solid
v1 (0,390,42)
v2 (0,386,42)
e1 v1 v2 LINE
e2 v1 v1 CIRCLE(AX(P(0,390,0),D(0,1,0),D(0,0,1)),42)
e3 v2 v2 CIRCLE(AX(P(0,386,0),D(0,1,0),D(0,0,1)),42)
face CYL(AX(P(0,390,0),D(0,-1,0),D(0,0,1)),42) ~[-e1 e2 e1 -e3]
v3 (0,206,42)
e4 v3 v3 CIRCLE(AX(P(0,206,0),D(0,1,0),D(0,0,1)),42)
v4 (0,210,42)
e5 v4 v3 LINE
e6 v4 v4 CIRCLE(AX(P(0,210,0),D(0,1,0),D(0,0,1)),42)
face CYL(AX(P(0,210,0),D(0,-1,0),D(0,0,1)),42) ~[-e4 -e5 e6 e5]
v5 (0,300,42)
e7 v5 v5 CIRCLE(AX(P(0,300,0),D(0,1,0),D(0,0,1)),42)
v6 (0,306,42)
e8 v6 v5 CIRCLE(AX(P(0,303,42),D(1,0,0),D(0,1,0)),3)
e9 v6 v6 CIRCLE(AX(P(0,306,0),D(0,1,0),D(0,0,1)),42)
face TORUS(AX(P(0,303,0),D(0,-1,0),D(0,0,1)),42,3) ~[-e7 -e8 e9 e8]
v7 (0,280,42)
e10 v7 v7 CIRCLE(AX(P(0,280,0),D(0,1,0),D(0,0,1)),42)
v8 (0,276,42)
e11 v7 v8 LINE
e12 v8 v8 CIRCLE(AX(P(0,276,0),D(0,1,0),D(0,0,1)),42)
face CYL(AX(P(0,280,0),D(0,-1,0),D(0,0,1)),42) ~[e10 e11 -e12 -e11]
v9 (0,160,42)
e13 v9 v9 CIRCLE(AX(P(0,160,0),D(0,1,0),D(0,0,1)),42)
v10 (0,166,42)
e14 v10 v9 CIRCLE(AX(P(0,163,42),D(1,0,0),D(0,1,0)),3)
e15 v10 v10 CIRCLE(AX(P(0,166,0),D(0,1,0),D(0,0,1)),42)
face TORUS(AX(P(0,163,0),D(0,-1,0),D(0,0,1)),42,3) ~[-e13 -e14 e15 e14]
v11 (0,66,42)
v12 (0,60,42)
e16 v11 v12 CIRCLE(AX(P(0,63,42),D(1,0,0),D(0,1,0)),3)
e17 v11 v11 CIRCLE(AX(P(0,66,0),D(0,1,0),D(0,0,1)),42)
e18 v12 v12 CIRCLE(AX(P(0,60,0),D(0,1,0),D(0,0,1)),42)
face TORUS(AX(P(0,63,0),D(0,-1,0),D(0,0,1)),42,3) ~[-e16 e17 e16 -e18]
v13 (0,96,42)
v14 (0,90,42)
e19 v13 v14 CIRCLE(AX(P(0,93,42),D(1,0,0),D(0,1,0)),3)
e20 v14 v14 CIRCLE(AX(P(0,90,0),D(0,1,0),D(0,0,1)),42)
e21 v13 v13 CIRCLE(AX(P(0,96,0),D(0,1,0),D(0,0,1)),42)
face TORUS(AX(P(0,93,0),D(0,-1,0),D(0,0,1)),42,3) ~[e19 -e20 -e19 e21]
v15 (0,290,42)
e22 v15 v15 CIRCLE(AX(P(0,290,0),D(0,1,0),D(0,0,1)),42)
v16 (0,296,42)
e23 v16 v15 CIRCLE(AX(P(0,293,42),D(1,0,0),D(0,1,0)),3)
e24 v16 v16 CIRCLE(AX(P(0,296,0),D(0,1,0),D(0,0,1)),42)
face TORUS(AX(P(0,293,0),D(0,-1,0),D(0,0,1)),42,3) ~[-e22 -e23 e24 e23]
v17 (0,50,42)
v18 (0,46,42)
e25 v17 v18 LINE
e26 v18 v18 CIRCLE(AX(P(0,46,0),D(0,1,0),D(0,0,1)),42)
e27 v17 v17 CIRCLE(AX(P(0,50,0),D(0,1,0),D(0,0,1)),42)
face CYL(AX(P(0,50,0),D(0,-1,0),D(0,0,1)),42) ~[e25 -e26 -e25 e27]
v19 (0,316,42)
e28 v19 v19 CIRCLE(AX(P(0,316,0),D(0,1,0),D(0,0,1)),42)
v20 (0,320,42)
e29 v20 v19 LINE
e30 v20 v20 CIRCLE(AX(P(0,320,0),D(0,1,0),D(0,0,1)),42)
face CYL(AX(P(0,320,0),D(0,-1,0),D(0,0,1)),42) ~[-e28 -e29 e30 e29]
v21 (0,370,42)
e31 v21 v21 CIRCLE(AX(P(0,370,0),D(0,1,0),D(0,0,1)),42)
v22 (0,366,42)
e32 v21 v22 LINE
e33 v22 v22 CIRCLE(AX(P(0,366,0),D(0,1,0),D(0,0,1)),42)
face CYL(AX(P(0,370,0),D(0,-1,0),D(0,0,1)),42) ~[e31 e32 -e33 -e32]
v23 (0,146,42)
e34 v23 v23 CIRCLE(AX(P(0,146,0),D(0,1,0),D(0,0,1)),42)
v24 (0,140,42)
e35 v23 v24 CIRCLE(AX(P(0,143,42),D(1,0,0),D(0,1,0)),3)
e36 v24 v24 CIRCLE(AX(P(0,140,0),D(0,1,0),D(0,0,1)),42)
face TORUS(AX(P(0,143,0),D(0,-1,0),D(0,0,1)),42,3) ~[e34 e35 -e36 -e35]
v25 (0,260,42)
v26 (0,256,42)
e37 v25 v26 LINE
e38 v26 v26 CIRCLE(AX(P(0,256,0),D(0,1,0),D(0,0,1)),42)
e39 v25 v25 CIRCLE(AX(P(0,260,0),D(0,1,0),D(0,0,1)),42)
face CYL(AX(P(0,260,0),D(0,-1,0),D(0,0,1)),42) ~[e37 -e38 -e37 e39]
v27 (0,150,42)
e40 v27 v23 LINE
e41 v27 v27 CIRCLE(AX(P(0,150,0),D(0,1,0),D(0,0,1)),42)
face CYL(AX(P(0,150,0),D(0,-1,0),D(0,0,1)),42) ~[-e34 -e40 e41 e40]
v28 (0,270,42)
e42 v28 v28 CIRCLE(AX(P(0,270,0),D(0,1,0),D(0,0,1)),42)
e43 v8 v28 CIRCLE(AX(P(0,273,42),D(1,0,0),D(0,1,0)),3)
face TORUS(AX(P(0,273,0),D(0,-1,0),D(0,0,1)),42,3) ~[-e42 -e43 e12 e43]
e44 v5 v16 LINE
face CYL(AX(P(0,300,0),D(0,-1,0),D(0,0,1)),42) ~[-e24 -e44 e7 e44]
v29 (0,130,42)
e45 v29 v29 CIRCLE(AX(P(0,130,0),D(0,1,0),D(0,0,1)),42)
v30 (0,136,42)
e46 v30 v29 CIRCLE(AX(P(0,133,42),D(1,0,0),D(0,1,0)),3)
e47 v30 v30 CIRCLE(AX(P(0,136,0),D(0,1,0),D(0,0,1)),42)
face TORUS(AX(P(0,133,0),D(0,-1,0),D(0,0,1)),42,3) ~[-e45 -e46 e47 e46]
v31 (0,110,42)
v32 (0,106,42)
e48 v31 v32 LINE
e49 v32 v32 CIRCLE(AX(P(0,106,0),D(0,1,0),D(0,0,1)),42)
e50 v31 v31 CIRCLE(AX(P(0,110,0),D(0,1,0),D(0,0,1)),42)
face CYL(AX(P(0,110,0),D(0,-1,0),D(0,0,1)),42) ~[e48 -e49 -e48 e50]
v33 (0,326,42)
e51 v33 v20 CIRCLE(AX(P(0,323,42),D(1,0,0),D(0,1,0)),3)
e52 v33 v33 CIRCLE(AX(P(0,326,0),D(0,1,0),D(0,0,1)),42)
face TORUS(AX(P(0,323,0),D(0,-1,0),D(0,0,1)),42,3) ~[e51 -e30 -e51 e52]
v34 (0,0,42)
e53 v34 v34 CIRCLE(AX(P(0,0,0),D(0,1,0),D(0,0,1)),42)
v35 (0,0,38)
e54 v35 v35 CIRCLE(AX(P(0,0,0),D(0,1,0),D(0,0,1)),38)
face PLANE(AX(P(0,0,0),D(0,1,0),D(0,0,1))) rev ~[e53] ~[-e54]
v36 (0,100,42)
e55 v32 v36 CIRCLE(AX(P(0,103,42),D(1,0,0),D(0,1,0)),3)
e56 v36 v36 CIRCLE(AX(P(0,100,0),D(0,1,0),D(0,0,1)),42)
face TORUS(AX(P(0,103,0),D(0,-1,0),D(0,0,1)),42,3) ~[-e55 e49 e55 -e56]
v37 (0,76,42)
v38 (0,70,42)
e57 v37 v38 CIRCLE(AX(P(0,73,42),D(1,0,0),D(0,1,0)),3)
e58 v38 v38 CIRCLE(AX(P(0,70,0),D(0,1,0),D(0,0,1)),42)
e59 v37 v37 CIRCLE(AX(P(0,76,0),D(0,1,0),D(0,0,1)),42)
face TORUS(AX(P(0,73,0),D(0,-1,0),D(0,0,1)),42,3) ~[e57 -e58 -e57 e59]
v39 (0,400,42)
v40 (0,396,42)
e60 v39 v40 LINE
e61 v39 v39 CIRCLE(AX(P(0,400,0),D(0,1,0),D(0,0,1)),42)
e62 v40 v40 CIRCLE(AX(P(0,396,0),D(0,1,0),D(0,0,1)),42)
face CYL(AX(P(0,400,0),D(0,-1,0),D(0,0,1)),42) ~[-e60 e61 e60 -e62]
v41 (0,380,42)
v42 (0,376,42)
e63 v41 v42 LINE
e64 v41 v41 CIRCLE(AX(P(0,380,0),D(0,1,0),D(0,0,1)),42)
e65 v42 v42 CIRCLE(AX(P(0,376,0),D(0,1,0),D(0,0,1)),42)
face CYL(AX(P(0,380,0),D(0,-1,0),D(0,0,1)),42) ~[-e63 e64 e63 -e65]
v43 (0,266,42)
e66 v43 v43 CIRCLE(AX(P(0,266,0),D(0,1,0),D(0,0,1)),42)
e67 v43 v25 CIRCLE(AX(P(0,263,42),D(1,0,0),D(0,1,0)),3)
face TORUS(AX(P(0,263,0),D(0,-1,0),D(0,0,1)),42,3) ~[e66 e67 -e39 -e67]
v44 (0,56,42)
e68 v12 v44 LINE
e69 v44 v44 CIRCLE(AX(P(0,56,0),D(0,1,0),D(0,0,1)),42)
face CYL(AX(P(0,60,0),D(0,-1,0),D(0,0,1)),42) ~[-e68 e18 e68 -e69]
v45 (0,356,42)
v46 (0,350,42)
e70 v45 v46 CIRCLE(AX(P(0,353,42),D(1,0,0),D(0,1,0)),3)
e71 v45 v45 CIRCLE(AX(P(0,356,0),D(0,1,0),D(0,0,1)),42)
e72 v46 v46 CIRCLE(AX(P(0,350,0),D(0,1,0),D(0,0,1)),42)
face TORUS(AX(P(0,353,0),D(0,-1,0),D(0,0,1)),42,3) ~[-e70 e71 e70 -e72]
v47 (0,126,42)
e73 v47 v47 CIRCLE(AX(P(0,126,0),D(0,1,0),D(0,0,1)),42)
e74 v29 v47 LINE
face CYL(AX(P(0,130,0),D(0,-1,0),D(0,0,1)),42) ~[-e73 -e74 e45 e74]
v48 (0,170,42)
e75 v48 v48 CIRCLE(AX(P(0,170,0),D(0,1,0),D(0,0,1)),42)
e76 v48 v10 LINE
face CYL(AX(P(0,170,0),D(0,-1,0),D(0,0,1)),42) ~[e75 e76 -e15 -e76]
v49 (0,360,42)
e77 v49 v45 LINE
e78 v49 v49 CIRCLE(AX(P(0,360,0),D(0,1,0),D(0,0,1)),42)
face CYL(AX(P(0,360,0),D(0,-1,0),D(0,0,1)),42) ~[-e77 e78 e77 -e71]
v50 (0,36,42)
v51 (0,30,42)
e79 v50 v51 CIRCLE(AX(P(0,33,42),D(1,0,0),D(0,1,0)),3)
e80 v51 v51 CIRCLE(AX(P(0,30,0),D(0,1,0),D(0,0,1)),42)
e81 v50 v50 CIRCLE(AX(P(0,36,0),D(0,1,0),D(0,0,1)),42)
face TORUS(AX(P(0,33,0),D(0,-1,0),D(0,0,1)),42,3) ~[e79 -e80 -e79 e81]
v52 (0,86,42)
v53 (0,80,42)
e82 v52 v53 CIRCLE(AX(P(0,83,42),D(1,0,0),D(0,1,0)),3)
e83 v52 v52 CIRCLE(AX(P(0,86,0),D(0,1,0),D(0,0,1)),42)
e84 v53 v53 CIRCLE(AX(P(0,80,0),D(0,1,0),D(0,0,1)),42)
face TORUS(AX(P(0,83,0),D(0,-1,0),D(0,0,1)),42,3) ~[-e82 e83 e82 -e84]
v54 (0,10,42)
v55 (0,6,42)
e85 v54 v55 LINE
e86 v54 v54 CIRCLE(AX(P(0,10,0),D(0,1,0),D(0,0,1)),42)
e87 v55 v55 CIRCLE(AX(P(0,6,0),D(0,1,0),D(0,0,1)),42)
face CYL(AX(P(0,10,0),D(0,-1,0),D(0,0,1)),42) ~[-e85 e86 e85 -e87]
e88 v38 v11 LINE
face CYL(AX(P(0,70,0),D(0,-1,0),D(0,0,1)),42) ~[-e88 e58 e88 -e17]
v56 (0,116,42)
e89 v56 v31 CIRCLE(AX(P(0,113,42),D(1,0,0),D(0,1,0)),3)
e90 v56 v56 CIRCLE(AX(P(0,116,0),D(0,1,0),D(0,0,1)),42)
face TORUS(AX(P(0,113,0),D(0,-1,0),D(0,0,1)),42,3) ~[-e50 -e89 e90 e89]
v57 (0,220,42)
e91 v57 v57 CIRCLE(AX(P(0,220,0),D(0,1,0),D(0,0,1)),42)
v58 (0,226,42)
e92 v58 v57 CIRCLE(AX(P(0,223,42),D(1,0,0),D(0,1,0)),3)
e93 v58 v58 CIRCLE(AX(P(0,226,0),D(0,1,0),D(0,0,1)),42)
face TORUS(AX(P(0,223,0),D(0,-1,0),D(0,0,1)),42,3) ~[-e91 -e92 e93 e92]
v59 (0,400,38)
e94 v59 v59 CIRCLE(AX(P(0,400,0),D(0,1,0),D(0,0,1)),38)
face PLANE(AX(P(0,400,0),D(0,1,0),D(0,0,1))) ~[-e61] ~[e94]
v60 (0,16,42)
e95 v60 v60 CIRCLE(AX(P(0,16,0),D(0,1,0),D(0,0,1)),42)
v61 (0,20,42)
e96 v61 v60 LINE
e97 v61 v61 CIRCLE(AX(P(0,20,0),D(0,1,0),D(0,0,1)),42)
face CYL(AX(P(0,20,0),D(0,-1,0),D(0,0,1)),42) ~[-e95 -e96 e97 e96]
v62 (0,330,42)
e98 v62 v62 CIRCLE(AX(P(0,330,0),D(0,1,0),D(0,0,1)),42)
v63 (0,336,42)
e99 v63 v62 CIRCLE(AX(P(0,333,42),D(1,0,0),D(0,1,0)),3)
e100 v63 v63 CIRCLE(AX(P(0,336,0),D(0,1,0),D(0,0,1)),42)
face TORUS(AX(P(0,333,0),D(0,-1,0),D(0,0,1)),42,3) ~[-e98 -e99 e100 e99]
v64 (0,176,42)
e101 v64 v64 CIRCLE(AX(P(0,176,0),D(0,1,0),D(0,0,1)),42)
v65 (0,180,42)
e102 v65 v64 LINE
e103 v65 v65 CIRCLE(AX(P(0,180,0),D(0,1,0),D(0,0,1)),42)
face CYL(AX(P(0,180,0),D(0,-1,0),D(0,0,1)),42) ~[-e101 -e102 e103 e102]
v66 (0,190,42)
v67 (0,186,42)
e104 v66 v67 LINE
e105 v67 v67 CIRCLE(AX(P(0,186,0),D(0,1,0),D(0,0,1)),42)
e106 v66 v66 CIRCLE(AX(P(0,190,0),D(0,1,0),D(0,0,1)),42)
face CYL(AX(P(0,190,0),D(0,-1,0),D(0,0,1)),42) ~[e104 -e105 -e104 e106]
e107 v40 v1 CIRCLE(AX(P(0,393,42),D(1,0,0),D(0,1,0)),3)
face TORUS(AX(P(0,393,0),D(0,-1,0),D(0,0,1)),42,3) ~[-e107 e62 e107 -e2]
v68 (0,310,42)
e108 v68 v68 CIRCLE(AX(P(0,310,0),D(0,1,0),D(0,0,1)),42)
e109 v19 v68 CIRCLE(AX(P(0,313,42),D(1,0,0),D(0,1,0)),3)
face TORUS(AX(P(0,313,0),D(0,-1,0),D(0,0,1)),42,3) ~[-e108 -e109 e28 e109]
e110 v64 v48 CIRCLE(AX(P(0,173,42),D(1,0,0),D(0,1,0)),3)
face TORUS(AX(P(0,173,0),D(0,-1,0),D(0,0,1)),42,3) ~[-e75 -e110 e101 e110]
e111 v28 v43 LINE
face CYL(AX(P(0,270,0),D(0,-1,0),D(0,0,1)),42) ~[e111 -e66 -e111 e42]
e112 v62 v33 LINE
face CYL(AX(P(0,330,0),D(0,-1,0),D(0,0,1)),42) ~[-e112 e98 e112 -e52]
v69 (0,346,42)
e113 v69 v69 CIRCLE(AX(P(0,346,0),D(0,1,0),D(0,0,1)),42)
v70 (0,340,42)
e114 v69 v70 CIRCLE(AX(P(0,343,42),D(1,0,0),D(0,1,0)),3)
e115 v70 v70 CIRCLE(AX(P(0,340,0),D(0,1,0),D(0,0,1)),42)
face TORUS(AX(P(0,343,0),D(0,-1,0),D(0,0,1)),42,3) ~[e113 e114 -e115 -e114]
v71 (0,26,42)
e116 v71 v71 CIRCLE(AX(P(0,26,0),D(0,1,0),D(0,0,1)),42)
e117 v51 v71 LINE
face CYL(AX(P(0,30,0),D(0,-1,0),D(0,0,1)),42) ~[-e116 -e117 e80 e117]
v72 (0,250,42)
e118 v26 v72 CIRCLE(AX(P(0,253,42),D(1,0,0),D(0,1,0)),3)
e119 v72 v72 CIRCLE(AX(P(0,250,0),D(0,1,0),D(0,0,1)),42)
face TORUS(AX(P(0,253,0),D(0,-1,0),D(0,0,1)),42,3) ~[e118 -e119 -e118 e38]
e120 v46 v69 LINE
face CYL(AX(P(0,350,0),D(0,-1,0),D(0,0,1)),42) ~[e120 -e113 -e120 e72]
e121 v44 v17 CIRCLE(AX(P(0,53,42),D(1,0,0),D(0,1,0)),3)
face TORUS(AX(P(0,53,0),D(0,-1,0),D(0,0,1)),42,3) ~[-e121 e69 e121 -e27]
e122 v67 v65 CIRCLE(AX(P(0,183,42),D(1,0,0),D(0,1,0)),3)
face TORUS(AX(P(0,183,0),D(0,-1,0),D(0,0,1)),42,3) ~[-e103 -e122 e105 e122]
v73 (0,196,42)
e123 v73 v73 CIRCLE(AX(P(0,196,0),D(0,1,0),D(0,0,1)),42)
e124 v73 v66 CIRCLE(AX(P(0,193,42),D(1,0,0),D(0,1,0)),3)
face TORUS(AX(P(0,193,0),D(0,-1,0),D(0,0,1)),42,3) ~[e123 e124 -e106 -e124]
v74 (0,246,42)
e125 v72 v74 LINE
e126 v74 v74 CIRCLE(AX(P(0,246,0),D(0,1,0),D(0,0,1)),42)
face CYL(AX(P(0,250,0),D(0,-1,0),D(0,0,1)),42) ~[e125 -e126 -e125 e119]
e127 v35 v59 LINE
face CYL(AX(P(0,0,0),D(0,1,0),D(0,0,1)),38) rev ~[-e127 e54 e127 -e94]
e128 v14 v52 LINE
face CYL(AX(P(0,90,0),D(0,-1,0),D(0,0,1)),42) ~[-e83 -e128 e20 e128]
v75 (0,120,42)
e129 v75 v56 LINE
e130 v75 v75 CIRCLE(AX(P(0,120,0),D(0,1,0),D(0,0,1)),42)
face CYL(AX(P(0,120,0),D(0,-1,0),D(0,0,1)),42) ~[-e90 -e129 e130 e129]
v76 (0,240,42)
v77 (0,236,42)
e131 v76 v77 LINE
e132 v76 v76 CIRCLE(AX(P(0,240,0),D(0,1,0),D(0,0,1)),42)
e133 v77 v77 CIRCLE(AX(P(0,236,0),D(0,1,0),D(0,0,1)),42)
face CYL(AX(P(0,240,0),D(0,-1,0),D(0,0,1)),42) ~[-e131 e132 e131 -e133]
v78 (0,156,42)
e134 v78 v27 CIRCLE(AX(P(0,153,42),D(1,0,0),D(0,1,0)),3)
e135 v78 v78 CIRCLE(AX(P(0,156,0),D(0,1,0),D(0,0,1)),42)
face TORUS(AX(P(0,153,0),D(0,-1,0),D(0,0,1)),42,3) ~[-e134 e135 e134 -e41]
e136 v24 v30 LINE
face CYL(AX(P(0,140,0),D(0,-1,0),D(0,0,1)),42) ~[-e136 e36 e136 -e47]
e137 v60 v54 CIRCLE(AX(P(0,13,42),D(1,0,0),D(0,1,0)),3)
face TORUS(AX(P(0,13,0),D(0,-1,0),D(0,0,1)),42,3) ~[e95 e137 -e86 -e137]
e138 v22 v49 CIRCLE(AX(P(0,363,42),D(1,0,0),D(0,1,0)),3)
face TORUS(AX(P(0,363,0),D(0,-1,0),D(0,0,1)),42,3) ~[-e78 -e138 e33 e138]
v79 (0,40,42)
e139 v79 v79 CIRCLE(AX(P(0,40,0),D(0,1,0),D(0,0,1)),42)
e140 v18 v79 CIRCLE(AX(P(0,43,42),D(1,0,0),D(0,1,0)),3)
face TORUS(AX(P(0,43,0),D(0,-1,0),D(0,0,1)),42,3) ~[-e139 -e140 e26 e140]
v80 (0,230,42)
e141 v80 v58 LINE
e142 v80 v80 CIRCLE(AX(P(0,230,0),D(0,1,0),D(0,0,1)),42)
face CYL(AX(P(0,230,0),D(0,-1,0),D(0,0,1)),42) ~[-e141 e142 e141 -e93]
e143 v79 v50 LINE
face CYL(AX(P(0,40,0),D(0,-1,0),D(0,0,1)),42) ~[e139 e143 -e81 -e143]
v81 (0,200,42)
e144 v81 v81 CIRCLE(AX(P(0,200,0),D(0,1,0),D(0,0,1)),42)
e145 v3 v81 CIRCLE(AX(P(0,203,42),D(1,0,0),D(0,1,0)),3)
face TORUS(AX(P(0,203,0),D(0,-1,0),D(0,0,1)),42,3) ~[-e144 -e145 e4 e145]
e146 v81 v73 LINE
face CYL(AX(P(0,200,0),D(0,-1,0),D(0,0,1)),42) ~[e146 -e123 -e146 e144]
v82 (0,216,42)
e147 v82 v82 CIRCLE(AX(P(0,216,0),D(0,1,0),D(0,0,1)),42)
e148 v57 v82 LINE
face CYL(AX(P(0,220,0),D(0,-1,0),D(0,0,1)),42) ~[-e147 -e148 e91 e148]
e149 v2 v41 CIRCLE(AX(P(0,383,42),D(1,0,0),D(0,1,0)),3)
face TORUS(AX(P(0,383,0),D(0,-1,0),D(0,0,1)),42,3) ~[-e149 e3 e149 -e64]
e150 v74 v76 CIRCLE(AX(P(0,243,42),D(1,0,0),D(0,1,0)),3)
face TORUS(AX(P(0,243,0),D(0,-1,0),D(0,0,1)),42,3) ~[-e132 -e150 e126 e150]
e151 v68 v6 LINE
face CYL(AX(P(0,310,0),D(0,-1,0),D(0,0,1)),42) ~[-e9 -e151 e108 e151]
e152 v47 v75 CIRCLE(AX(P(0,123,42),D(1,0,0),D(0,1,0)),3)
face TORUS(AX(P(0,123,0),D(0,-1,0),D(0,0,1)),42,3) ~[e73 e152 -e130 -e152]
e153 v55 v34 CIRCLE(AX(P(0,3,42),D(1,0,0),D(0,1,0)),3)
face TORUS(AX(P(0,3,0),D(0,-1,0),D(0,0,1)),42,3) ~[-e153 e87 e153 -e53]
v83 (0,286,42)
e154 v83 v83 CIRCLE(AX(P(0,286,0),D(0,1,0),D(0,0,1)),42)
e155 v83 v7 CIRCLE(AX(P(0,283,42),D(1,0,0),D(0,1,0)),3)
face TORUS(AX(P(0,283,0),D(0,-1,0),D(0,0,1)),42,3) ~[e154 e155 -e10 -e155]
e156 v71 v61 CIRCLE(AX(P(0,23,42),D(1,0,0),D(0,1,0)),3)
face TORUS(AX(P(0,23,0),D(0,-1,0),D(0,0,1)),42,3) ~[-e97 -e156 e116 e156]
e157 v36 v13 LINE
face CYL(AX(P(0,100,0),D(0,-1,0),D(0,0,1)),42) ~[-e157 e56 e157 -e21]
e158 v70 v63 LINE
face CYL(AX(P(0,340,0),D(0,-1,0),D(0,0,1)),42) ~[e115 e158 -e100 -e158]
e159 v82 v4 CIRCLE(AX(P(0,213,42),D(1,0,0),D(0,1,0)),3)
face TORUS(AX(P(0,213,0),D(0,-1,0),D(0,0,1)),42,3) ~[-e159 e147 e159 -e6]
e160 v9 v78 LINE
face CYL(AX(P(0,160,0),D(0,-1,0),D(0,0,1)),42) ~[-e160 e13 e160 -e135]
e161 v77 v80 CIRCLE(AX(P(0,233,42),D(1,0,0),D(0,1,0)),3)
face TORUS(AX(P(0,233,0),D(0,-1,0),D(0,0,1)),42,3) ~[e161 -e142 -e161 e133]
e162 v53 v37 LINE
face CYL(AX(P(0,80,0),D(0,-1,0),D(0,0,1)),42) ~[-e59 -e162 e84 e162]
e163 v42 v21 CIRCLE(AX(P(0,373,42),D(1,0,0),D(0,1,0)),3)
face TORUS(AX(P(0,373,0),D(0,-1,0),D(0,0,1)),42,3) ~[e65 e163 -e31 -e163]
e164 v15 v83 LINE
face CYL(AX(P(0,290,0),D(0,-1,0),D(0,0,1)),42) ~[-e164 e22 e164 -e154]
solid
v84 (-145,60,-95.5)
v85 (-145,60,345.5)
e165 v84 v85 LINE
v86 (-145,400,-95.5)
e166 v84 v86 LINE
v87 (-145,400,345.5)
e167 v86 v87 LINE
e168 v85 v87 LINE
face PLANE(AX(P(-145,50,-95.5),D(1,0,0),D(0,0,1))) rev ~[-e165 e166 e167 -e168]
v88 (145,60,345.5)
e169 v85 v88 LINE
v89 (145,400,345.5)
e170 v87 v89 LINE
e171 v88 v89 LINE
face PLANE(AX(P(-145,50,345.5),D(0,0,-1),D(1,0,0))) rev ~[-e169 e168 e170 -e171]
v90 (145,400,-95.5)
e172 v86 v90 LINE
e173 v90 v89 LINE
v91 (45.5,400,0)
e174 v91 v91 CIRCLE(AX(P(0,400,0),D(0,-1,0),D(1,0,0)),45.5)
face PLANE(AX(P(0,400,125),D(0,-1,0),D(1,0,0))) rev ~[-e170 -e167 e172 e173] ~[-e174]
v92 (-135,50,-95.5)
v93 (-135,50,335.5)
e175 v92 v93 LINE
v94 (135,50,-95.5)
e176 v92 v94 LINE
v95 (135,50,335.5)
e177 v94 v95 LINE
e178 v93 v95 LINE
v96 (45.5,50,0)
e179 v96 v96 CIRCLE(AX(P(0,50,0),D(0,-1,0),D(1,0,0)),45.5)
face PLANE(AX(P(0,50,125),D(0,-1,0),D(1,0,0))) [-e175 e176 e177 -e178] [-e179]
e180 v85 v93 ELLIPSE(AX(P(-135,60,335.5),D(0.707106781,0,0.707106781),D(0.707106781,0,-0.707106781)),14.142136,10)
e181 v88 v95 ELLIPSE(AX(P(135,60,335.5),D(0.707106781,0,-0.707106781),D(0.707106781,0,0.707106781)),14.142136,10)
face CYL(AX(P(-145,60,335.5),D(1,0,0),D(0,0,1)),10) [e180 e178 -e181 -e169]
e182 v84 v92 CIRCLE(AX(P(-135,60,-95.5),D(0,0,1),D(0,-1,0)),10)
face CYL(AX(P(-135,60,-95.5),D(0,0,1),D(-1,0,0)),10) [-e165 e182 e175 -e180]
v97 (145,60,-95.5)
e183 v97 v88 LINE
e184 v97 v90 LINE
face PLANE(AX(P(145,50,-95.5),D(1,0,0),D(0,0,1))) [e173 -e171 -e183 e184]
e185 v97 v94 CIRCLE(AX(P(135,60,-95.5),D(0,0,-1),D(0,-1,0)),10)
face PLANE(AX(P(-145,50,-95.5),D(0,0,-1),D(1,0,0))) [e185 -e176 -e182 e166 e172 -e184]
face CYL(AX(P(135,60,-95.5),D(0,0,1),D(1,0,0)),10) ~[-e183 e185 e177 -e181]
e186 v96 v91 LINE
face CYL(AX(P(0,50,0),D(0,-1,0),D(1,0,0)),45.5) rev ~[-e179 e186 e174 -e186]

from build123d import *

# Parameters (mm, degrees)
F3_START = -50
F2_W     = 290
F2_H     = 441
F2_R     = 45.5
F3_DEPTH = 350
F4_R     = 10


with BuildPart() as f1:
    # F0 (on Right) → F1 (revolve)
    with BuildSketch(Plane.YZ):
        with BuildLine():
            Line((390, 42), (390, 38))
            Line((390, 38), (400, 38))
            Line((400, 38), (400, 42))
            Line((400, 42), (396, 42))
            ThreePointArc((396, 42), (393, 45), (390, 42))
        make_face()
        with BuildLine():
            Line((300, 42), (300, 38))
            Line((300, 38), (310, 38))
            Line((310, 38), (310, 42))
            Line((310, 42), (306, 42))
            ThreePointArc((306, 42), (303, 45), (300, 42))
        make_face()
        with BuildLine():
            Line((230, 42), (230, 38))
            Line((230, 38), (240, 38))
            Line((240, 38), (240, 42))
            Line((240, 42), (236, 42))
            ThreePointArc((236, 42), (233, 45), (230, 42))
        make_face()
        with BuildLine():
            Line((240, 42), (240, 38))
            Line((240, 38), (250, 38))
            Line((250, 38), (250, 42))
            Line((250, 42), (246, 42))
            ThreePointArc((246, 42), (243, 45), (240, 42))
        make_face()
        with BuildLine():
            Line((40, 42), (40, 38))
            Line((40, 38), (50, 38))
            Line((50, 38), (50, 42))
            Line((50, 42), (46, 42))
            ThreePointArc((46, 42), (43, 45), (40, 42))
        make_face()
        with BuildLine():
            Line((90, 42), (90, 38))
            Line((90, 38), (100, 38))
            Line((100, 38), (100, 42))
            Line((100, 42), (96, 42))
            ThreePointArc((96, 42), (93, 45), (90, 42))
        make_face()
        with BuildLine():
            Line((100, 42), (100, 38))
            Line((100, 38), (110, 38))
            Line((110, 38), (110, 42))
            Line((110, 42), (106, 42))
            ThreePointArc((106, 42), (103, 45), (100, 42))
        make_face()
        with BuildLine():
            Line((50, 42), (50, 38))
            Line((50, 38), (60, 38))
            Line((60, 38), (60, 42))
            Line((60, 42), (56, 42))
            ThreePointArc((56, 42), (53, 45), (50, 42))
        make_face()
        with BuildLine():
            Line((70, 42), (70, 38))
            Line((70, 38), (80, 38))
            Line((80, 38), (80, 42))
            Line((80, 42), (76, 42))
            ThreePointArc((76, 42), (73, 45), (70, 42))
        make_face()
        with BuildLine():
            Line((80, 42), (80, 38))
            Line((80, 38), (90, 38))
            Line((90, 38), (90, 42))
            Line((90, 42), (86, 42))
            ThreePointArc((86, 42), (83, 45), (80, 42))
        make_face()
        with BuildLine():
            Line((120, 42), (120, 38))
            Line((120, 38), (130, 38))
            Line((130, 38), (130, 42))
            Line((130, 42), (126, 42))
            ThreePointArc((126, 42), (123, 45), (120, 42))
        make_face()
        with BuildLine():
            Line((140, 42), (140, 38))
            Line((140, 38), (150, 38))
            Line((150, 38), (150, 42))
            Line((150, 42), (146, 42))
            ThreePointArc((146, 42), (143, 45), (140, 42))
        make_face()
        with BuildLine():
            Line((210, 42), (210, 38))
            Line((210, 38), (220, 38))
            Line((220, 38), (220, 42))
            Line((220, 42), (216, 42))
            ThreePointArc((216, 42), (213, 45), (210, 42))
        make_face()
        with BuildLine():
            Line((370, 42), (370, 38))
            Line((370, 38), (380, 38))
            Line((380, 38), (380, 42))
            Line((380, 42), (376, 42))
            ThreePointArc((376, 42), (373, 45), (370, 42))
        make_face()
        with BuildLine():
            Line((360, 42), (360, 38))
            Line((360, 38), (370, 38))
            Line((370, 38), (370, 42))
            Line((370, 42), (366, 42))
            ThreePointArc((366, 42), (363, 45), (360, 42))
        make_face()
        with BuildLine():
            Line((200, 42), (200, 38))
            Line((200, 38), (210, 38))
            Line((210, 38), (210, 42))
            Line((210, 42), (206, 42))
            ThreePointArc((206, 42), (203, 45), (200, 42))
        make_face()
        with BuildLine():
            Line((350, 42), (350, 38))
            Line((350, 38), (360, 38))
            Line((360, 38), (360, 42))
            Line((360, 42), (356, 42))
            ThreePointArc((356, 42), (353, 45), (350, 42))
        make_face()
        with BuildLine():
            Line((190, 42), (190, 38))
            Line((190, 38), (200, 38))
            Line((200, 38), (200, 42))
            Line((200, 42), (196, 42))
            ThreePointArc((196, 42), (193, 45), (190, 42))
        make_face()
        with BuildLine():
            Line((340, 42), (340, 38))
            Line((340, 38), (350, 38))
            Line((350, 38), (350, 42))
            Line((350, 42), (346, 42))
            ThreePointArc((346, 42), (343, 45), (340, 42))
        make_face()
        with BuildLine():
            Line((180, 42), (180, 38))
            Line((180, 38), (190, 38))
            Line((190, 38), (190, 42))
            Line((190, 42), (186, 42))
            ThreePointArc((186, 42), (183, 45), (180, 42))
        make_face()
        with BuildLine():
            Line((310, 42), (310, 38))
            Line((310, 38), (320, 38))
            Line((320, 38), (320, 42))
            Line((320, 42), (316, 42))
            ThreePointArc((316, 42), (313, 45), (310, 42))
        make_face()
        with BuildLine():
            Line((150, 42), (150, 38))
            Line((150, 38), (160, 38))
            Line((160, 38), (160, 42))
            Line((160, 42), (156, 42))
            ThreePointArc((156, 42), (153, 45), (150, 42))
        make_face()
        with BuildLine():
            Line((30, 42), (30, 38))
            Line((30, 38), (40, 38))
            Line((40, 38), (40, 42))
            Line((40, 42), (36, 42))
            ThreePointArc((36, 42), (33, 45), (30, 42))
        make_face()
        with BuildLine():
            Line((20, 42), (20, 38))
            Line((20, 38), (30, 38))
            Line((30, 38), (30, 42))
            Line((30, 42), (26, 42))
            ThreePointArc((26, 42), (23, 45), (20, 42))
        make_face()
        with BuildLine():
            Line((0, 42), (0, 38))
            Line((0, 38), (10, 38))
            Line((10, 38), (10, 42))
            Line((10, 42), (6, 42))
            ThreePointArc((6, 42), (3, 45), (0, 42))
        make_face()
        with BuildLine():
            Line((260, 42), (260, 38))
            Line((260, 38), (270, 38))
            Line((270, 38), (270, 42))
            Line((270, 42), (266, 42))
            ThreePointArc((266, 42), (263, 45), (260, 42))
        make_face()
        with BuildLine():
            Line((280, 42), (280, 38))
            Line((280, 38), (290, 38))
            Line((290, 38), (290, 42))
            Line((290, 42), (286, 42))
            ThreePointArc((286, 42), (283, 45), (280, 42))
        make_face()
        with BuildLine():
            Line((250, 42), (250, 38))
            Line((250, 38), (260, 38))
            Line((260, 38), (260, 42))
            Line((260, 42), (256, 42))
            ThreePointArc((256, 42), (253, 45), (250, 42))
        make_face()
        with BuildLine():
            Line((60, 42), (60, 38))
            Line((60, 38), (70, 38))
            Line((70, 38), (70, 42))
            Line((70, 42), (66, 42))
            ThreePointArc((66, 42), (63, 45), (60, 42))
        make_face()
        with BuildLine():
            Line((380, 42), (380, 38))
            Line((380, 38), (390, 38))
            Line((390, 38), (390, 42))
            Line((390, 42), (386, 42))
            ThreePointArc((386, 42), (383, 45), (380, 42))
        make_face()
        with BuildLine():
            Line((220, 42), (220, 38))
            Line((220, 38), (230, 38))
            Line((230, 38), (230, 42))
            Line((230, 42), (226, 42))
            ThreePointArc((226, 42), (223, 45), (220, 42))
        make_face()
        with BuildLine():
            Line((110, 42), (110, 38))
            Line((110, 38), (120, 38))
            Line((120, 38), (120, 42))
            Line((120, 42), (116, 42))
            ThreePointArc((116, 42), (113, 45), (110, 42))
        make_face()
        with BuildLine():
            Line((330, 42), (330, 38))
            Line((330, 38), (340, 38))
            Line((340, 38), (340, 42))
            Line((340, 42), (336, 42))
            ThreePointArc((336, 42), (333, 45), (330, 42))
        make_face()
        with BuildLine():
            Line((170, 42), (170, 38))
            Line((170, 38), (180, 38))
            Line((180, 38), (180, 42))
            Line((180, 42), (176, 42))
            ThreePointArc((176, 42), (173, 45), (170, 42))
        make_face()
        with BuildLine():
            Line((320, 42), (320, 38))
            Line((320, 38), (330, 38))
            Line((330, 38), (330, 42))
            Line((330, 42), (326, 42))
            ThreePointArc((326, 42), (323, 45), (320, 42))
        make_face()
        with BuildLine():
            Line((160, 42), (160, 38))
            Line((160, 38), (170, 38))
            Line((170, 38), (170, 42))
            Line((170, 42), (166, 42))
            ThreePointArc((166, 42), (163, 45), (160, 42))
        make_face()
        with BuildLine():
            Line((10, 42), (10, 38))
            Line((10, 38), (20, 38))
            Line((20, 38), (20, 42))
            Line((20, 42), (16, 42))
            ThreePointArc((16, 42), (13, 45), (10, 42))
        make_face()
        with BuildLine():
            Line((270, 42), (270, 38))
            Line((270, 38), (280, 38))
            Line((280, 38), (280, 42))
            Line((280, 42), (276, 42))
            ThreePointArc((276, 42), (273, 45), (270, 42))
        make_face()
        with BuildLine():
            Line((130, 42), (130, 38))
            Line((130, 38), (140, 38))
            Line((140, 38), (140, 42))
            Line((140, 42), (136, 42))
            ThreePointArc((136, 42), (133, 45), (130, 42))
        make_face()
        with BuildLine():
            Line((290, 42), (290, 38))
            Line((290, 38), (300, 38))
            Line((300, 38), (300, 42))
            Line((300, 42), (296, 42))
            ThreePointArc((296, 42), (293, 45), (290, 42))
        make_face()
    revolve(axis=Axis((0, 200, 0), (0, 1, 0)))


with BuildPart() as f3:
    # F2 (on Front) → F3 (new body)
    with BuildSketch(Plane.XZ.offset(F3_START)):
        with Locations((0, 125)):
            Rectangle(F2_W, F2_H)
        Circle(F2_R, mode=Mode.SUBTRACT)
    extrude(amount=-F3_DEPTH)

    # F4
    f4_edges = [f3.edges().sort_by_distance(p)[0] for p in [
        (0, 50, 345.5),
        (145, 50, 125),
        (-145, 50, 125),
    ]]
    fillet(f4_edges, radius=F4_R)


solid = Compound([f1.part, f3.part])
